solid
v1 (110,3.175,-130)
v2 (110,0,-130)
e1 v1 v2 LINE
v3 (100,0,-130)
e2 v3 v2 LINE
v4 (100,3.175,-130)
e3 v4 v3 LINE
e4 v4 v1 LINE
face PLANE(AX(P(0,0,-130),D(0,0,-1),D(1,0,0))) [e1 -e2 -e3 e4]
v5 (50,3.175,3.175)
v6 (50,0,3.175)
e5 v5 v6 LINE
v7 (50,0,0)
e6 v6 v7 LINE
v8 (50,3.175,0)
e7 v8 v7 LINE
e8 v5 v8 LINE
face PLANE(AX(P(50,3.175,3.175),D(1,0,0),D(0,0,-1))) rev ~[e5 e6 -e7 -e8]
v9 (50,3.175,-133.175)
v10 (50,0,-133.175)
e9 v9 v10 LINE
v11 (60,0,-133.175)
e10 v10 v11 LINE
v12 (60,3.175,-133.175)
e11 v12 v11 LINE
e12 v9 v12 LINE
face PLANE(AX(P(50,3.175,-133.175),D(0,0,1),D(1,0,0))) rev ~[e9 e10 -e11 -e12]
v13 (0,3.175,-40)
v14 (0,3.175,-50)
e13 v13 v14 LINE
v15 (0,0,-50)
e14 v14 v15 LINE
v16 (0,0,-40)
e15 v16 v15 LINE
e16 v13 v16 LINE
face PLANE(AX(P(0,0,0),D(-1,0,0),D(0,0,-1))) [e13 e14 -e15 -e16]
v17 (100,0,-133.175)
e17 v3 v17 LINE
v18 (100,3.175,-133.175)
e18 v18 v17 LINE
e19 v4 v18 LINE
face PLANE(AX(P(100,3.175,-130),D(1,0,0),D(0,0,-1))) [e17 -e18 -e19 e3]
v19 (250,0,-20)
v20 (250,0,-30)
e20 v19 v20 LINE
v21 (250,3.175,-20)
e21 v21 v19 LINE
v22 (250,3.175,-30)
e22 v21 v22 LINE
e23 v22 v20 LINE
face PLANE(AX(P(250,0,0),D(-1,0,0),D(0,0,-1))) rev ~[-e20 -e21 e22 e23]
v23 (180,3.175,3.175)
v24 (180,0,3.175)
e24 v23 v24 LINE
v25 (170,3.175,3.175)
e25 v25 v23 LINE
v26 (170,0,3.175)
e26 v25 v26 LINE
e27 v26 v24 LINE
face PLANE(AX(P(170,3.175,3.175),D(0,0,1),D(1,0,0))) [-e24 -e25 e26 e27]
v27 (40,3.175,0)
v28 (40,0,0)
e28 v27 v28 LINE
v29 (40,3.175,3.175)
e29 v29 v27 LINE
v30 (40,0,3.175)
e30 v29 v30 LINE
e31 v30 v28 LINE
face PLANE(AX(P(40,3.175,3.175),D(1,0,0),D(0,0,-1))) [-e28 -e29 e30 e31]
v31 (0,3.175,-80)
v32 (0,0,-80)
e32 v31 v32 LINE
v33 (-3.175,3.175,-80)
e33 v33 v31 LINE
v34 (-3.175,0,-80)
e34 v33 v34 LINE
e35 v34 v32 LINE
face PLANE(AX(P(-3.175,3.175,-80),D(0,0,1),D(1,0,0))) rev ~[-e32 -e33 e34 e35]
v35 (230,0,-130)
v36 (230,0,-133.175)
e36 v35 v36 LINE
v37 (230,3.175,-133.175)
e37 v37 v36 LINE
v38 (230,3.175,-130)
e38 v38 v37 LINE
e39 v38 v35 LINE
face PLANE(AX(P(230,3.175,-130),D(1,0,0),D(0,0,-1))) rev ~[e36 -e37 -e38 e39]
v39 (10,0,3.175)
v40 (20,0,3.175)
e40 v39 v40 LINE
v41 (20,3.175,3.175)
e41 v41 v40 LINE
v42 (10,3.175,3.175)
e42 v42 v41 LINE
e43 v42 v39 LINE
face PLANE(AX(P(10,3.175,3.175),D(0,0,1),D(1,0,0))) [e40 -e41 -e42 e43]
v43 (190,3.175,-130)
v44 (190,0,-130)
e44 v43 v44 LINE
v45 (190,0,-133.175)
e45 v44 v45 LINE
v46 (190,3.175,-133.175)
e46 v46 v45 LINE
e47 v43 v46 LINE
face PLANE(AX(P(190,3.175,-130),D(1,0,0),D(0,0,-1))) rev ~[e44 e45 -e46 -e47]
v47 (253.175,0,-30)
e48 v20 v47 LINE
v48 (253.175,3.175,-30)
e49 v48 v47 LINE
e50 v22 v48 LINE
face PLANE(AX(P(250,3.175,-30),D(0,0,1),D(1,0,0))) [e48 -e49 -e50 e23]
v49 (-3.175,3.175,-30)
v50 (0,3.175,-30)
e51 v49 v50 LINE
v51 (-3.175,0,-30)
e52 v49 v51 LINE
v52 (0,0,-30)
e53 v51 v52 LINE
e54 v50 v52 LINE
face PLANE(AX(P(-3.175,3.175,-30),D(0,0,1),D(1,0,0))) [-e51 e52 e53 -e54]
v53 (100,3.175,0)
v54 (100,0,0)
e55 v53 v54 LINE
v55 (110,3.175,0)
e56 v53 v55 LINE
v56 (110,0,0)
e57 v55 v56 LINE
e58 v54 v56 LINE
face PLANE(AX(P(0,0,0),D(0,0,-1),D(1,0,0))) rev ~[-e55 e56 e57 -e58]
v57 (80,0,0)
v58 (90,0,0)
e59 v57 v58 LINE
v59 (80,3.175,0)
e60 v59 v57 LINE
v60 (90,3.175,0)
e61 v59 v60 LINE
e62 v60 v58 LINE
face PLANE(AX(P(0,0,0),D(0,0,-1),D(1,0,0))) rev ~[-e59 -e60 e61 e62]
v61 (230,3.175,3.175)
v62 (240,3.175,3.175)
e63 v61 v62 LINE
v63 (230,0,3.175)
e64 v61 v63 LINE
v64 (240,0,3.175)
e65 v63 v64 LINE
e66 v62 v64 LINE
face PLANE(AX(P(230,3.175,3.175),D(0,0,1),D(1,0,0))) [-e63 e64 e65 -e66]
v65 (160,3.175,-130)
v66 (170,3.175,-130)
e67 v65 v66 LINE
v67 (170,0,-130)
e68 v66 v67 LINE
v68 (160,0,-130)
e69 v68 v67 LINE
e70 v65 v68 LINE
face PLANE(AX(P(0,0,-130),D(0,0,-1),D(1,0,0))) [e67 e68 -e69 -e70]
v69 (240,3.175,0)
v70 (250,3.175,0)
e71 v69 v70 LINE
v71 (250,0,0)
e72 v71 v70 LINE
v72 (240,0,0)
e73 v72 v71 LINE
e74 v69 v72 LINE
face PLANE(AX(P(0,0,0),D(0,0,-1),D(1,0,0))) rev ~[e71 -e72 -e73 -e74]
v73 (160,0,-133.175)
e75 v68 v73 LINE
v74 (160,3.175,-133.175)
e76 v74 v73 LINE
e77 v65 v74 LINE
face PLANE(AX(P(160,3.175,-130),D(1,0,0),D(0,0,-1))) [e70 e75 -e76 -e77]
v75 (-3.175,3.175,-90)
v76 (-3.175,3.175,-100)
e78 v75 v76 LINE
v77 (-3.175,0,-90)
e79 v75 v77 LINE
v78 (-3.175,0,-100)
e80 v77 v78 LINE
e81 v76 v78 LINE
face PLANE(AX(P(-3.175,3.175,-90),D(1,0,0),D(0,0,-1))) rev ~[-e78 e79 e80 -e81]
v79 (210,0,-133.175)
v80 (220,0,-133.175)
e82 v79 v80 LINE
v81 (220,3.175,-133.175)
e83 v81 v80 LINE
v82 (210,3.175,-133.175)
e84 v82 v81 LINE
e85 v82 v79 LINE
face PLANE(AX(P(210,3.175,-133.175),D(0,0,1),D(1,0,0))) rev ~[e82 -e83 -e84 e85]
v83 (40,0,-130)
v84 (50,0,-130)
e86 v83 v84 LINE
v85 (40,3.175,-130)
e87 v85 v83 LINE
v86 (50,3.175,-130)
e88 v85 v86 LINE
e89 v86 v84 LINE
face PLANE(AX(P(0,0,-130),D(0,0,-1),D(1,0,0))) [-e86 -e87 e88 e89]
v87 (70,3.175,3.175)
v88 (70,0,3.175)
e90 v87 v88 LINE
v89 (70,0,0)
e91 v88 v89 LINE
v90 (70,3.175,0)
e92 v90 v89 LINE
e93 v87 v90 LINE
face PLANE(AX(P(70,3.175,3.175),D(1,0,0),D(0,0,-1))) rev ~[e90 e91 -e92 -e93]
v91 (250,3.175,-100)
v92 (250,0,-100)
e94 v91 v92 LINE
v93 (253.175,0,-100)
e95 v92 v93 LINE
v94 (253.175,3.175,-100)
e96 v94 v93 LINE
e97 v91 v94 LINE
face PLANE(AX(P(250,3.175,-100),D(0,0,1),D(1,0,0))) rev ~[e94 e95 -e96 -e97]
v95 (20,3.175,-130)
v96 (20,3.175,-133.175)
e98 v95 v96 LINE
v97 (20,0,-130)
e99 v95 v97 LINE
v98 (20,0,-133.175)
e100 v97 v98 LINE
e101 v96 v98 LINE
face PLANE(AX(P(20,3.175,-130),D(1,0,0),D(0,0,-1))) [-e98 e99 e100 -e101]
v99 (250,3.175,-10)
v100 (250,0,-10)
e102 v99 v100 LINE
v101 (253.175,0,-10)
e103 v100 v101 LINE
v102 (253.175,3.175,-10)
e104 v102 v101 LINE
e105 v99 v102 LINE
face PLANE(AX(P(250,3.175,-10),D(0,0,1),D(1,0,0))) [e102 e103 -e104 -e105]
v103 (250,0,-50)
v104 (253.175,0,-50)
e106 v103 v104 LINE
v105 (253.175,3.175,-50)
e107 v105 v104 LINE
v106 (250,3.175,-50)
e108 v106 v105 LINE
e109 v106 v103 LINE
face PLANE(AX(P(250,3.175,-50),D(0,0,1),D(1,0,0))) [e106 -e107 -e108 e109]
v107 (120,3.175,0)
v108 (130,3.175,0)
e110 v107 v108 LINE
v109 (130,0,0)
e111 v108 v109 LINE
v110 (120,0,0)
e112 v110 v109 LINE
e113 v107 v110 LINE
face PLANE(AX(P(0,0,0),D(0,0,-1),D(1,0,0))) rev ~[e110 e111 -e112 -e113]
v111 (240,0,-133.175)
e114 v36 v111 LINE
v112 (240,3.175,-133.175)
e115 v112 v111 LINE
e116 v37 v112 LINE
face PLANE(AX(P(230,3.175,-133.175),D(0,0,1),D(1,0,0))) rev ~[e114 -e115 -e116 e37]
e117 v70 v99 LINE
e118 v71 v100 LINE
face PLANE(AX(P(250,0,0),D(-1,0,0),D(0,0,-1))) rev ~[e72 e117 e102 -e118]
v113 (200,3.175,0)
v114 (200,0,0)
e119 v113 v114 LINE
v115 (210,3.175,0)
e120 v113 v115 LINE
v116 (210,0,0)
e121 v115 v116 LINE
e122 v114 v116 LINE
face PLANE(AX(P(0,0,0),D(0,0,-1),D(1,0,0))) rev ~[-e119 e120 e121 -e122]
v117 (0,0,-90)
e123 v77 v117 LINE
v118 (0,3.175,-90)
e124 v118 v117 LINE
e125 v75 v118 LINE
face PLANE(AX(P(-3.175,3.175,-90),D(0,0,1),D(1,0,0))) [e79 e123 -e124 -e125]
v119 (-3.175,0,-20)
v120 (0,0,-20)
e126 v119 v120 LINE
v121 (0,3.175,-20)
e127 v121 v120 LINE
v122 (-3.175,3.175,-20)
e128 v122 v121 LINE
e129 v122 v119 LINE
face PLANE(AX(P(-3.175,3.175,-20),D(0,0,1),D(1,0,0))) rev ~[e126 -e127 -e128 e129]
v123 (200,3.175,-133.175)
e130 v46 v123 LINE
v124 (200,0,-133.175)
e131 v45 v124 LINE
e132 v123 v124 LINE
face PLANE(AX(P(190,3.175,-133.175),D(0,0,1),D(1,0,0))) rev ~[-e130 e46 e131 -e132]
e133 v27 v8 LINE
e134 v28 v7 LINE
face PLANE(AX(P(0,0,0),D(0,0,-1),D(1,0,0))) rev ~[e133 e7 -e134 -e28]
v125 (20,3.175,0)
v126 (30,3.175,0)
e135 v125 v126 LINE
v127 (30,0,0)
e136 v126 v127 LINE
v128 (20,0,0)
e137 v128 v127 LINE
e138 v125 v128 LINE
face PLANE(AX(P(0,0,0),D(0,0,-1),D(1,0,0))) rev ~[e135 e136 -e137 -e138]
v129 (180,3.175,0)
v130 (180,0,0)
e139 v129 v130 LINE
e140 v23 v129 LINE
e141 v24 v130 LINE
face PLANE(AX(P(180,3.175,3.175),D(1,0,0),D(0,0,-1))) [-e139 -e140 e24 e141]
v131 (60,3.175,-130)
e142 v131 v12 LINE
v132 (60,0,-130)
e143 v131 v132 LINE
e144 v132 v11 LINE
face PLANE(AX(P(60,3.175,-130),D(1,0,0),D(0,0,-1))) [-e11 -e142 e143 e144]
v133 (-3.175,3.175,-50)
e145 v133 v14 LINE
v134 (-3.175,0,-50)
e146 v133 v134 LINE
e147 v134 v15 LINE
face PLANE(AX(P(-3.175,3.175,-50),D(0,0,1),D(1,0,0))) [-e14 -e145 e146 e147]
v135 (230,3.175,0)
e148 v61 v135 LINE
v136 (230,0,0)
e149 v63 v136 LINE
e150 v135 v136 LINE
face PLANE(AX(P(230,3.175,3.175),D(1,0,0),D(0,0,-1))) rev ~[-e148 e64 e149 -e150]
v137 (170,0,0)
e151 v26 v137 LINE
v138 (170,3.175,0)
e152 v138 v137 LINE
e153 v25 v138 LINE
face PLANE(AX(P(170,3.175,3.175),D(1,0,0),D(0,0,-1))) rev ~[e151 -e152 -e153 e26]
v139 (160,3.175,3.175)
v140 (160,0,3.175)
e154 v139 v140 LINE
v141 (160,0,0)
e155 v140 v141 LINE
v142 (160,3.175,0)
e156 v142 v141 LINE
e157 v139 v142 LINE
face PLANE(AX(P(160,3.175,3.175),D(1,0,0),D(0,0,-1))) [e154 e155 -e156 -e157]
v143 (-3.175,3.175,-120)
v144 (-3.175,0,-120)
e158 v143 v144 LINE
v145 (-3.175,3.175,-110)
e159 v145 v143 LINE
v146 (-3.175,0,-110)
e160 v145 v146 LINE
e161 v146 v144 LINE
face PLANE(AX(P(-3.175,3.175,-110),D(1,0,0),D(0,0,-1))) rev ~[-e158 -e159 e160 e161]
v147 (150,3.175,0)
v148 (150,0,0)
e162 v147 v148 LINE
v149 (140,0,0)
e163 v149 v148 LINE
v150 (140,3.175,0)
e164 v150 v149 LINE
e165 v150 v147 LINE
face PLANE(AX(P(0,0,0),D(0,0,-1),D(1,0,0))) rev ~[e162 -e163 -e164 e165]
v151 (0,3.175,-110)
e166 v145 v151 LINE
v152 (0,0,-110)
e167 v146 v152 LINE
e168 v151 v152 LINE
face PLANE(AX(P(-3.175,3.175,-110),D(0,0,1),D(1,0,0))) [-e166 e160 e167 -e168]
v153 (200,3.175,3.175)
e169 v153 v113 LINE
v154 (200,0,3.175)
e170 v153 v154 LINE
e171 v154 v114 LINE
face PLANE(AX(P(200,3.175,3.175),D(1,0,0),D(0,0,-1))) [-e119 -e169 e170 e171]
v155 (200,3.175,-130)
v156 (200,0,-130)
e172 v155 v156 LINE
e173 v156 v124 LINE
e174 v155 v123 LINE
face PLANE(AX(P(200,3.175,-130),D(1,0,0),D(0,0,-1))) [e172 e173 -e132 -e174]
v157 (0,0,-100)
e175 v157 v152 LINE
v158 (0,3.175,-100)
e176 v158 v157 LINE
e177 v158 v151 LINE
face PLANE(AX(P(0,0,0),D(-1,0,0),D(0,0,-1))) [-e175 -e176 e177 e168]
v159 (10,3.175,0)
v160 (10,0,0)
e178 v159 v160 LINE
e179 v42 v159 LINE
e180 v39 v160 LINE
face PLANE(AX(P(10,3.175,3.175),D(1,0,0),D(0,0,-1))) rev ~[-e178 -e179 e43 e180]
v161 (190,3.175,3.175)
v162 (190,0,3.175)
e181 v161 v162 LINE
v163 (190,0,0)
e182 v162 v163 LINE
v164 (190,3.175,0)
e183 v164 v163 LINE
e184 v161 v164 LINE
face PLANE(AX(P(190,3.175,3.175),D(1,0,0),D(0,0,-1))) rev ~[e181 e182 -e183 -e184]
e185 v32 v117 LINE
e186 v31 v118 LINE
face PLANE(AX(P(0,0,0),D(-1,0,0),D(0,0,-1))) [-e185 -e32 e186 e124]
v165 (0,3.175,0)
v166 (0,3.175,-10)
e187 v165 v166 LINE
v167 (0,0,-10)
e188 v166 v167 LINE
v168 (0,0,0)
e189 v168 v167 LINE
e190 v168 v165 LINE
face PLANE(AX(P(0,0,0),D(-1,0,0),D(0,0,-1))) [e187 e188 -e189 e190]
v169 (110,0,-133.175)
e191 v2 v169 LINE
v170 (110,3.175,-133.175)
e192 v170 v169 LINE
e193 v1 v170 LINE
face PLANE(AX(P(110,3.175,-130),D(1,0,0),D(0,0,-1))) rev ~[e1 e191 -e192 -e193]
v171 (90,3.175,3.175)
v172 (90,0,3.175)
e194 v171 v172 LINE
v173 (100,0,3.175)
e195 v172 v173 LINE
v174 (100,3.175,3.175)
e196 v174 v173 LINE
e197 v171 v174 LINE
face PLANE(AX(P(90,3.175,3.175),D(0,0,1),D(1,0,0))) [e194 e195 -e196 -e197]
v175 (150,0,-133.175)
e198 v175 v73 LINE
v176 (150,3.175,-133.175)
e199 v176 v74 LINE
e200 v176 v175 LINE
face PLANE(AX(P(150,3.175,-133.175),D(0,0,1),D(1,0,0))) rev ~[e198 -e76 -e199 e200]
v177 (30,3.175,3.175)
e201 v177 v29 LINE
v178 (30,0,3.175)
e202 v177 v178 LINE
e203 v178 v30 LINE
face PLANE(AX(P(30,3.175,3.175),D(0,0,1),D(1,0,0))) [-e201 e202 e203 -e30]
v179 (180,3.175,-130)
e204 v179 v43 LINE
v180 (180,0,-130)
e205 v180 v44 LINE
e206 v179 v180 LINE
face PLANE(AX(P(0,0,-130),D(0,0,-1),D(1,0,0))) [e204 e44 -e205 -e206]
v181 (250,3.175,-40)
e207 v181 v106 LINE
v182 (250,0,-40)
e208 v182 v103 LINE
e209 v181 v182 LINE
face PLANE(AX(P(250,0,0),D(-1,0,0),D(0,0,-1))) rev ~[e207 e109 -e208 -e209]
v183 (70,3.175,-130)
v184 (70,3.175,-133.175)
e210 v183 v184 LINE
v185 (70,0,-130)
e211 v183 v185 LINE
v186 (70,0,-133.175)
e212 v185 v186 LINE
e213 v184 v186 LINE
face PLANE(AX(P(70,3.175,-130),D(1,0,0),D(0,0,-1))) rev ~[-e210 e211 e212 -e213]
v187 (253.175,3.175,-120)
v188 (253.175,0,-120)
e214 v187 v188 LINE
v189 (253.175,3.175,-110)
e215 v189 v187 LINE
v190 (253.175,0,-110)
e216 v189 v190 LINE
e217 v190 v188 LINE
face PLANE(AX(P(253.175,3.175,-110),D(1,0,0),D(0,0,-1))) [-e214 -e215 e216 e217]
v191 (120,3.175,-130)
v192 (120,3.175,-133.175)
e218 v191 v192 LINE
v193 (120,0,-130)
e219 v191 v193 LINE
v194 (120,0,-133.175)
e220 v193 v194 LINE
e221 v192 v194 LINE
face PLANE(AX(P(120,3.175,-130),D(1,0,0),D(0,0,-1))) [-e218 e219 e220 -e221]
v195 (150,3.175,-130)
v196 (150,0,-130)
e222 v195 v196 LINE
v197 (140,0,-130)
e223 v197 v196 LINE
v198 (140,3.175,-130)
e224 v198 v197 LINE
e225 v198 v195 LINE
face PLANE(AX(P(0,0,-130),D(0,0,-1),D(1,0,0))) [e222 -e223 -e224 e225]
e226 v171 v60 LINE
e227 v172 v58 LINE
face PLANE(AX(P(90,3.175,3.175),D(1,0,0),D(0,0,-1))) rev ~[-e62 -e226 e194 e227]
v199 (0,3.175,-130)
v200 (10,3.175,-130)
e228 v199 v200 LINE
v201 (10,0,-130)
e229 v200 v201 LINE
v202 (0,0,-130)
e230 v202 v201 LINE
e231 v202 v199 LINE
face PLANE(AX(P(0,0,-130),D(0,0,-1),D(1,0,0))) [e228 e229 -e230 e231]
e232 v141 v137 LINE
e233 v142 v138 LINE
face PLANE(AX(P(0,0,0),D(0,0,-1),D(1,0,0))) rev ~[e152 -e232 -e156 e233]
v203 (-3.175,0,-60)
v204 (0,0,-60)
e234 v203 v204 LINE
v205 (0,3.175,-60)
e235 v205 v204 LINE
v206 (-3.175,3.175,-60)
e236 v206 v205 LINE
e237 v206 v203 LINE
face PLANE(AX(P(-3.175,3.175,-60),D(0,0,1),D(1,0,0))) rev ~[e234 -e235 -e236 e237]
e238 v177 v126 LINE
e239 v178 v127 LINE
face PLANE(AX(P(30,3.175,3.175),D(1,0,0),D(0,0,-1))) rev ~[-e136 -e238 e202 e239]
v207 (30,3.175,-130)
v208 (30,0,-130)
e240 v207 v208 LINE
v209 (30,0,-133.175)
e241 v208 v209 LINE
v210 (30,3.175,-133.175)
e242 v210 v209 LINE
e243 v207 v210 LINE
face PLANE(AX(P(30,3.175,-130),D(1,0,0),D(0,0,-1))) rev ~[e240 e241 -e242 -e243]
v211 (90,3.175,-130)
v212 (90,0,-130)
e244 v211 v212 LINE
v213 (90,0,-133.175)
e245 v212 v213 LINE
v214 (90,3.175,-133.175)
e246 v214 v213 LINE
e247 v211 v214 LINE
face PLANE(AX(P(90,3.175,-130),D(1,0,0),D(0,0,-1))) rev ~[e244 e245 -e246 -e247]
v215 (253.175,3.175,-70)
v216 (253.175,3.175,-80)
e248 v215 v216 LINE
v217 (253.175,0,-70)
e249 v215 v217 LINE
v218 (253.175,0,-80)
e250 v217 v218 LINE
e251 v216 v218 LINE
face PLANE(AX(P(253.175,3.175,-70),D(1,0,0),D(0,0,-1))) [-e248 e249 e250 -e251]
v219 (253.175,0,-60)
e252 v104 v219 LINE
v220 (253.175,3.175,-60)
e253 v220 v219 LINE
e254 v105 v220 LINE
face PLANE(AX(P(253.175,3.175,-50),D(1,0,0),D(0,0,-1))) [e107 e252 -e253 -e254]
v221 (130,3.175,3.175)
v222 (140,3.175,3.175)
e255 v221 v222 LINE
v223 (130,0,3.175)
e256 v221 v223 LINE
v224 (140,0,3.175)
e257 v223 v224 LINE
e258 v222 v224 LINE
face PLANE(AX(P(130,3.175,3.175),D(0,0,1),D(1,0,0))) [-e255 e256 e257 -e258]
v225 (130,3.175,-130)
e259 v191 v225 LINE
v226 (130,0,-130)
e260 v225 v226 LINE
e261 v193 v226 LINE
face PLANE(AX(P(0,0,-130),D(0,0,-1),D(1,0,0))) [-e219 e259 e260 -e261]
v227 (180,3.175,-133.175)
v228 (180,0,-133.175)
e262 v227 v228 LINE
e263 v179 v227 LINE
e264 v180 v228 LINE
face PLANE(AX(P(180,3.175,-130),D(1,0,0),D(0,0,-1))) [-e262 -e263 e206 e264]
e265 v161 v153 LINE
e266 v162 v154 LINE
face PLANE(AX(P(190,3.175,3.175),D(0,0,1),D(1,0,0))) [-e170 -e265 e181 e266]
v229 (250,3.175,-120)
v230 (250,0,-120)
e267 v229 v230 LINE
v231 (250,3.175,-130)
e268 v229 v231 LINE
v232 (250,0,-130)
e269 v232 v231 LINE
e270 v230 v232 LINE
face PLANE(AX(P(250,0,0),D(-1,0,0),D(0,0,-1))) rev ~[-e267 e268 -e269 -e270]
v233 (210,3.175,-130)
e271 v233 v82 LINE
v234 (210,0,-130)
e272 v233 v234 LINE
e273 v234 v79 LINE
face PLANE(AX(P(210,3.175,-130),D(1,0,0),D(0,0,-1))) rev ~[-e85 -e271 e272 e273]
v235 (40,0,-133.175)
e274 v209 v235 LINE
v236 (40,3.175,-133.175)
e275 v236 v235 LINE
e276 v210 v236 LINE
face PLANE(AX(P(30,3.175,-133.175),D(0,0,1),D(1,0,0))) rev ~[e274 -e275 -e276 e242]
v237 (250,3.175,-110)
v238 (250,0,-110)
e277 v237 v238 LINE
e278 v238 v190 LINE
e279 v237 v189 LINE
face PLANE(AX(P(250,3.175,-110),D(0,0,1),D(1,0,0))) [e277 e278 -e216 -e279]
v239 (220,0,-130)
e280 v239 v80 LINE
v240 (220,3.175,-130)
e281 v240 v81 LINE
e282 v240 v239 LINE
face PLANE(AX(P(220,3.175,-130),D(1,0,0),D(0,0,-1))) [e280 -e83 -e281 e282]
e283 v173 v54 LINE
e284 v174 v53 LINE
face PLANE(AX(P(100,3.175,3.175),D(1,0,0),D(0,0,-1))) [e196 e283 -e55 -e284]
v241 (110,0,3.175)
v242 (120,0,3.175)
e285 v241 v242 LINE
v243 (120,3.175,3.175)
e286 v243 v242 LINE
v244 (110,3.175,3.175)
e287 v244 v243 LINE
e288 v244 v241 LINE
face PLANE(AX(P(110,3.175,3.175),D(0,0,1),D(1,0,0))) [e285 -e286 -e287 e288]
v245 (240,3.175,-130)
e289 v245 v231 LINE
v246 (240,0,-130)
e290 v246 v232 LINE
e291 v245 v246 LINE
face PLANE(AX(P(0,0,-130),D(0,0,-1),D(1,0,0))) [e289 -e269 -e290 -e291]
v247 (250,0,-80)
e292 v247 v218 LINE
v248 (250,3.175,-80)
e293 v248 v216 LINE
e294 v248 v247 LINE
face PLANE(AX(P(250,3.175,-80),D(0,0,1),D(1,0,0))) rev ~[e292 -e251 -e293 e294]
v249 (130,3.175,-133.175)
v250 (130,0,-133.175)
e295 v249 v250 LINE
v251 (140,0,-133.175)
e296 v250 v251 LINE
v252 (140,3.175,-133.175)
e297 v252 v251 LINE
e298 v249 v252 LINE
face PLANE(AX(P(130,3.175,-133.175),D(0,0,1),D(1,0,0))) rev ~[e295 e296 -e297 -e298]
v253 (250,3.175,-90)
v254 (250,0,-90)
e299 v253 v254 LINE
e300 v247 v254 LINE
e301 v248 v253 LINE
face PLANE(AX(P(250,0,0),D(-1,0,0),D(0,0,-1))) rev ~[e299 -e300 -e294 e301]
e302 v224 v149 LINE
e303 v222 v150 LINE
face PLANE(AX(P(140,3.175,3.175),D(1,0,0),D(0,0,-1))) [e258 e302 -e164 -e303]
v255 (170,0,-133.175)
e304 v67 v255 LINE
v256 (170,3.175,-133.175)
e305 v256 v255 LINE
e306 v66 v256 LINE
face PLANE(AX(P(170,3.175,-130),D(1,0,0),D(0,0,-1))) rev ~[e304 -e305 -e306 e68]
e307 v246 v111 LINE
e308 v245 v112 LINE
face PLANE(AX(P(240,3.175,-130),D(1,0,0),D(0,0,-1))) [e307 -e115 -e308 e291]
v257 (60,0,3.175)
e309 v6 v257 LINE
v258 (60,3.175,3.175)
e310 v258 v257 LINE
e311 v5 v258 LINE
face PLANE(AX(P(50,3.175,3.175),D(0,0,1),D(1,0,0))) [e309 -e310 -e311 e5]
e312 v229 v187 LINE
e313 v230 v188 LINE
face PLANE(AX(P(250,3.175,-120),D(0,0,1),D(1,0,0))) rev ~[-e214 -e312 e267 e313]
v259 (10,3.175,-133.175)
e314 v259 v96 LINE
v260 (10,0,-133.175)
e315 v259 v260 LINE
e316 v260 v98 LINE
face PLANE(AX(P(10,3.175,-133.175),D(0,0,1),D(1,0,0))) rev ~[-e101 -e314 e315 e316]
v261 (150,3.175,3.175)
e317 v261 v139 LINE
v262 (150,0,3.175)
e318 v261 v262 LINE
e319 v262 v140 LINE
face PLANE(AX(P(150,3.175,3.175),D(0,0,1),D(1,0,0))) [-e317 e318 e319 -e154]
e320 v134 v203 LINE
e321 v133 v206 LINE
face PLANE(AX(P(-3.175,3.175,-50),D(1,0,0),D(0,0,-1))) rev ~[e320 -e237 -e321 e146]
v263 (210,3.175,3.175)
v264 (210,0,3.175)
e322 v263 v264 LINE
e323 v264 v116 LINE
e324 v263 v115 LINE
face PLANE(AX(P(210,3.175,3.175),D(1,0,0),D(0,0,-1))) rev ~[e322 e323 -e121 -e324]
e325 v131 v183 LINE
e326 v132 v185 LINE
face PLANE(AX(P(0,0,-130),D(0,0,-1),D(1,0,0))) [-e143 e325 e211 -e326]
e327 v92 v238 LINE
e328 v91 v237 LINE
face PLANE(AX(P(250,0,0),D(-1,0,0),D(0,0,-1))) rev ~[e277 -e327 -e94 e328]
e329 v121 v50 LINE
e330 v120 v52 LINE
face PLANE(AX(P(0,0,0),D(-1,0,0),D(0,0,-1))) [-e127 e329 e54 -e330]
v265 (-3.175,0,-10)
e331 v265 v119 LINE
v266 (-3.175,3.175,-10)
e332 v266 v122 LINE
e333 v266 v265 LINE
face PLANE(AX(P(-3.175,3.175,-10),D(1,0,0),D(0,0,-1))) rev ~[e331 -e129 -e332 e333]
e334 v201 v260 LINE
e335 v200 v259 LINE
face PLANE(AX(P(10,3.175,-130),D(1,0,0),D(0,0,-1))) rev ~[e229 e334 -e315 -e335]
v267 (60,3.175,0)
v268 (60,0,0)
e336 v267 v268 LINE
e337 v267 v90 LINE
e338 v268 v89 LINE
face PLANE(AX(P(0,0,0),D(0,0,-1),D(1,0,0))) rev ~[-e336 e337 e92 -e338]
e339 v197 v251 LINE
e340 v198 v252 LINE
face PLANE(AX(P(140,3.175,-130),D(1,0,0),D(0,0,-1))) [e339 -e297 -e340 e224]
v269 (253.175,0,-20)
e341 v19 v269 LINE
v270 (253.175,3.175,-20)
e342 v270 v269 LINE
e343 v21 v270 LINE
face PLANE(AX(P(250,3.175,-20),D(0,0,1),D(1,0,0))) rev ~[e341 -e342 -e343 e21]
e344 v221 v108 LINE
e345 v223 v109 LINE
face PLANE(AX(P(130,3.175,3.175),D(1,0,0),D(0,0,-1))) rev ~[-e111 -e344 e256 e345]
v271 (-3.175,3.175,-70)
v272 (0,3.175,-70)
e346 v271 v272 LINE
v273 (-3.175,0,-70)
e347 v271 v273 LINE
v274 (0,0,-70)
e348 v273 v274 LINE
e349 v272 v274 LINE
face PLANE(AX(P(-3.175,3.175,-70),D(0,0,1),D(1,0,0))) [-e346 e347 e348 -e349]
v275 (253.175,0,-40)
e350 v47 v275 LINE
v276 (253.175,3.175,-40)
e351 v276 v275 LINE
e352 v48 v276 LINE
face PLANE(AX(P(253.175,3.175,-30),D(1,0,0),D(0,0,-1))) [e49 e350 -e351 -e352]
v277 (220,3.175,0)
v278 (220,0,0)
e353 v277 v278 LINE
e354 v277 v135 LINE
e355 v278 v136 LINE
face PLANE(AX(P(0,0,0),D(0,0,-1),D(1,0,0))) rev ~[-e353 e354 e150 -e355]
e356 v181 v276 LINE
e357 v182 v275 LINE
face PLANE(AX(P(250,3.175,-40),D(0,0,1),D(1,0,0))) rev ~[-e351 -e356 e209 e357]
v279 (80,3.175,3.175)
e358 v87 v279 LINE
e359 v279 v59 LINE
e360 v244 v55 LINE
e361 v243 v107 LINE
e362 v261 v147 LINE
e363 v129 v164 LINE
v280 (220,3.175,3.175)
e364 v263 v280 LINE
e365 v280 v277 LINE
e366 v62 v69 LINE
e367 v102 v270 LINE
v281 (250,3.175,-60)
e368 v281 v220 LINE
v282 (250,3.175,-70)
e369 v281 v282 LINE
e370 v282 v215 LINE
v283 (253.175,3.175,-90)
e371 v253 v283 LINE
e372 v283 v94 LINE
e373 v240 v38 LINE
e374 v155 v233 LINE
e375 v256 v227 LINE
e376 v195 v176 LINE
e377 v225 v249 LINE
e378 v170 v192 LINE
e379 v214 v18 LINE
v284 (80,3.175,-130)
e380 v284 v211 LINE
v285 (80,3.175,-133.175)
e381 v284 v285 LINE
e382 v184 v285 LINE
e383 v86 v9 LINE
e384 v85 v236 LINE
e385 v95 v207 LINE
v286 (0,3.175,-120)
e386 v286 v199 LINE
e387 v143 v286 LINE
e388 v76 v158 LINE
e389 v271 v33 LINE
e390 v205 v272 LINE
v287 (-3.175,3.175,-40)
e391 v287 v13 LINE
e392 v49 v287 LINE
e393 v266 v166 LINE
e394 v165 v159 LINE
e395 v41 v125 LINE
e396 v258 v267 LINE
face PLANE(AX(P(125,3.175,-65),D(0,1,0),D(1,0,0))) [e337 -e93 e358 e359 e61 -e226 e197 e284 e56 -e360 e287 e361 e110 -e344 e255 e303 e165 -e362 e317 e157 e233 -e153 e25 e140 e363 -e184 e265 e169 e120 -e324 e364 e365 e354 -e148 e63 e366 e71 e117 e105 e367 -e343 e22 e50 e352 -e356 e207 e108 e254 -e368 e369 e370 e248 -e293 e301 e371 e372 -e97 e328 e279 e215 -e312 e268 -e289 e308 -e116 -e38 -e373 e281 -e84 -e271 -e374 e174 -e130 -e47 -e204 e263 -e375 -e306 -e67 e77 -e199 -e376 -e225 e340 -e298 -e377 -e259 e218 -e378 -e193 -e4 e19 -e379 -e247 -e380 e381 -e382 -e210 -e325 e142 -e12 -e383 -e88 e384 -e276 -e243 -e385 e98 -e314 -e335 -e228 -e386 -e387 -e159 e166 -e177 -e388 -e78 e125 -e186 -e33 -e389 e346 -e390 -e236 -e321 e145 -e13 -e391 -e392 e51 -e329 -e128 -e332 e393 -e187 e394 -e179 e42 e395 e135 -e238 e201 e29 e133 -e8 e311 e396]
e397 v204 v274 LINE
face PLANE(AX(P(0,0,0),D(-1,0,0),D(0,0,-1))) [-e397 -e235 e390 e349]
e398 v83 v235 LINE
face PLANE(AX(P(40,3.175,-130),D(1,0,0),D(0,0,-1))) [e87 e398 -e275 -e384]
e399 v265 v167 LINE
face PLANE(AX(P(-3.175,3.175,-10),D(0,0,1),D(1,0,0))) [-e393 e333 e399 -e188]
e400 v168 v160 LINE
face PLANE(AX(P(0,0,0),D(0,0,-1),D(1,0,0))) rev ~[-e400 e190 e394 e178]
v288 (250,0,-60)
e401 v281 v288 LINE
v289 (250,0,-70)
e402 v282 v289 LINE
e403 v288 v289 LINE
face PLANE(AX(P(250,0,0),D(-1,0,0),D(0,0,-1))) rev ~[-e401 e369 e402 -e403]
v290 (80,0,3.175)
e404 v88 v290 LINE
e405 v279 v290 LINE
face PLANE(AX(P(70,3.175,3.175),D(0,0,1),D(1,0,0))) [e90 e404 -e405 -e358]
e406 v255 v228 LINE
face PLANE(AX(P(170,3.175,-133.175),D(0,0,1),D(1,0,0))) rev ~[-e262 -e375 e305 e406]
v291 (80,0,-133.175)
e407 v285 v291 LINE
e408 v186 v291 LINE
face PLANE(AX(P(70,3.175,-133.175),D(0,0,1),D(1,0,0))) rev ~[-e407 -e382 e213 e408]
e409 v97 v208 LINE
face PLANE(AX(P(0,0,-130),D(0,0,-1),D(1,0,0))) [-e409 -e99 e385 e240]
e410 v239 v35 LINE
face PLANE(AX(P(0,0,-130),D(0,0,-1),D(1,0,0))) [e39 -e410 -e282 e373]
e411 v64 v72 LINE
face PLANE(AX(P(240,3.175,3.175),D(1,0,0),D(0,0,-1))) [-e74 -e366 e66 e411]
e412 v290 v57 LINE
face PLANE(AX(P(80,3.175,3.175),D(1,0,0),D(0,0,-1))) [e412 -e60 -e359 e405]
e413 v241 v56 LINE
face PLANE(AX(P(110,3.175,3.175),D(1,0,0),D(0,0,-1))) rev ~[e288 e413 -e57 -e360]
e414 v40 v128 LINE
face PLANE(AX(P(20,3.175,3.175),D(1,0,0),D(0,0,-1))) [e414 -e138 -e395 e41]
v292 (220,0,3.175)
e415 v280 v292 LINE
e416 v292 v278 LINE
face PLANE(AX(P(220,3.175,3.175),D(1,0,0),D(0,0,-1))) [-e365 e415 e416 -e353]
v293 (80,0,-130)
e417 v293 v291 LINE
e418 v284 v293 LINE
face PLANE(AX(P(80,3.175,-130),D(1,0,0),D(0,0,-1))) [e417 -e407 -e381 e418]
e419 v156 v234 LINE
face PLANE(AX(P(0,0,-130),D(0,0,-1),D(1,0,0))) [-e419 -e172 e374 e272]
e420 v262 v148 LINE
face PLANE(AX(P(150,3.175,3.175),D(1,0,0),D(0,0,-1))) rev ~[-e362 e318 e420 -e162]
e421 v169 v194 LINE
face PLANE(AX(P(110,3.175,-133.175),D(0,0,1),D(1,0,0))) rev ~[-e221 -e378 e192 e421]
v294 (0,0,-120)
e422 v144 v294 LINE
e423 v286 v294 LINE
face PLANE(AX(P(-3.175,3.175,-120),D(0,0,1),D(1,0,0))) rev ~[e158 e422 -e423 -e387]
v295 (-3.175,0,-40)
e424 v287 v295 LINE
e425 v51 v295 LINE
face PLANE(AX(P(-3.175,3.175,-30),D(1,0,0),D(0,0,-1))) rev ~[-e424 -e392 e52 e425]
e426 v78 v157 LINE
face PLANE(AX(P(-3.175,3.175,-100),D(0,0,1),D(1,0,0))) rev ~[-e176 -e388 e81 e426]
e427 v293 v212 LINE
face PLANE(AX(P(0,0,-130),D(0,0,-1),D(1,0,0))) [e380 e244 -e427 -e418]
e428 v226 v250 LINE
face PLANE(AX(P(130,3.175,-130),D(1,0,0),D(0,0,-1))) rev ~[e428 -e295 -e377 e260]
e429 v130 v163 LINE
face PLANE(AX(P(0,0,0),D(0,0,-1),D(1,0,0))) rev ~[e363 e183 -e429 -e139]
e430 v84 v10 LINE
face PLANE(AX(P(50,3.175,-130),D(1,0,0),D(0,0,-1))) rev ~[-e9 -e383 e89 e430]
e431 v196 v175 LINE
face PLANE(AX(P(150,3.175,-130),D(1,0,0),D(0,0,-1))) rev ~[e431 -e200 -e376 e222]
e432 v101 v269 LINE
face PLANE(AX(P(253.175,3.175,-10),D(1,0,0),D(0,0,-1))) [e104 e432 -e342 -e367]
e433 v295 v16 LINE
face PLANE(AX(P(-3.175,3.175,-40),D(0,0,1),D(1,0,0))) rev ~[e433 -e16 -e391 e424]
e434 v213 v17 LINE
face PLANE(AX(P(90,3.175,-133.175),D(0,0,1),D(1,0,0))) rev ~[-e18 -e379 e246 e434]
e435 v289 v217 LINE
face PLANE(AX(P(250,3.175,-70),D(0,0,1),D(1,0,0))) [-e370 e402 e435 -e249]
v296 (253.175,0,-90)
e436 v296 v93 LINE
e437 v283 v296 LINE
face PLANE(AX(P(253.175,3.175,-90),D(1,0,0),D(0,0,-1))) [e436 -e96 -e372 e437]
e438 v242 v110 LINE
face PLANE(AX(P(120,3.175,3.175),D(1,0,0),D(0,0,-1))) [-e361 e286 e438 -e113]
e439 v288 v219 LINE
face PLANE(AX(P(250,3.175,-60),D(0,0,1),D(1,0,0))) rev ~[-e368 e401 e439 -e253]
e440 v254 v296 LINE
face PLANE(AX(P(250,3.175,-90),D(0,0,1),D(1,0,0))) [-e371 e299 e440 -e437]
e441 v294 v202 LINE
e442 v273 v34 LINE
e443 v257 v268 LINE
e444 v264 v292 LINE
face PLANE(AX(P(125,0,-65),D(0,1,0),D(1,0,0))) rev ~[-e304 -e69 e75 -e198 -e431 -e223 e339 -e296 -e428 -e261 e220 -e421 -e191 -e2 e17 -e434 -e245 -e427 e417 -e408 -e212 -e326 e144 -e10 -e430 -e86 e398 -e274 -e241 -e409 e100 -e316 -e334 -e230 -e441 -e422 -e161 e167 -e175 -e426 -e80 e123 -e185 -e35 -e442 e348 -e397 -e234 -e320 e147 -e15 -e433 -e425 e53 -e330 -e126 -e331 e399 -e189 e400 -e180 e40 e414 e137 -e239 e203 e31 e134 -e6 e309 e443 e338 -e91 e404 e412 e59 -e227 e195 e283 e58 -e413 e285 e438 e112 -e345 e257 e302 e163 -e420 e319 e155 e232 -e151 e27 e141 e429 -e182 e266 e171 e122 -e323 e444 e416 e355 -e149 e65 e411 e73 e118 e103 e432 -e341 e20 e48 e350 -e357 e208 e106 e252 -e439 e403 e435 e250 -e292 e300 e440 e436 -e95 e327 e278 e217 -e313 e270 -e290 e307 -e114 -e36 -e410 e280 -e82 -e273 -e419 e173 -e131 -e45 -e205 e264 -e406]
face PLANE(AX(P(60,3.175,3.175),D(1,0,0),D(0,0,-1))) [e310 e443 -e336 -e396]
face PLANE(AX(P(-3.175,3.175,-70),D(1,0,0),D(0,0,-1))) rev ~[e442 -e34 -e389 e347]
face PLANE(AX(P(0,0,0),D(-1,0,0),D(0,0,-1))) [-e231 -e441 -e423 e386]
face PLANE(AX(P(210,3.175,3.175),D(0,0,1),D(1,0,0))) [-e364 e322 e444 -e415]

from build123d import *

# Parameters (mm, degrees)
ESQUISSE1_W                = 250
ESQUISSE1_H                = 130
BOSS_EXTRU_1_DEPTH         = 3.175
ESQUISSE2_W                = 10
ESQUISSE2_H                = 3.175
BOSS_EXTRU_2_DEPTH         = 3.175
R_P_TITION_LIN_AIRE1_COUNT = 12
R_P_TITION_LIN_AIRE1_PITCH = 20
ESQUISSE3_W                = 3.175
ESQUISSE3_H                = 10
BOSS_EXTRU_3_DEPTH         = 3.175
R_P_TITION_LIN_AIRE2_COUNT = 6
R_P_TITION_LIN_AIRE2_PITCH = 20


with BuildPart() as part:
    # Esquisse1 → Boss.-Extru.1 (new body)
    with BuildSketch(Plane(origin=(0, 0, 0), x_dir=(1, 0, 0), z_dir=(0, 1, 0))):
        with Locations((125, 65)):
            Rectangle(ESQUISSE1_W, ESQUISSE1_H)
    extrude(amount=BOSS_EXTRU_1_DEPTH)

    # Esquisse2 → Boss.-Extru.2 (add)
    with BuildSketch(Plane(origin=(0, 3.175, 0), x_dir=(1, 0, 0), z_dir=(0, 1, 0))):
        with Locations((15, 131.5875)):
            Rectangle(ESQUISSE2_W, ESQUISSE2_H)
        with Locations((15, -1.5875)):
            Rectangle(ESQUISSE2_W, ESQUISSE2_H)
    boss_extru_2 = extrude(amount=-BOSS_EXTRU_2_DEPTH)

    # Répétition linéaire1: Boss.-Extru.2 ×12
    with Locations(*[(i * R_P_TITION_LIN_AIRE1_PITCH, 0, 0) for i in range(1, R_P_TITION_LIN_AIRE1_COUNT)]):
        add(boss_extru_2)

    # Esquisse3 → Boss.-Extru.3 (add)
    with BuildSketch(Plane(origin=(0, 3.175, 0), x_dir=(1, 0, 0), z_dir=(0, 1, 0))):
        with Locations((251.5875, 115)):
            Rectangle(ESQUISSE3_W, ESQUISSE3_H)
        with Locations((-1.5875, 115)):
            Rectangle(ESQUISSE3_W, ESQUISSE3_H)
    boss_extru_3 = extrude(amount=-BOSS_EXTRU_3_DEPTH)

    # Répétition linéaire2: Boss.-Extru.3 ×6
    with Locations(*[(0, 0, i * R_P_TITION_LIN_AIRE2_PITCH) for i in range(1, R_P_TITION_LIN_AIRE2_COUNT)]):
        add(boss_extru_3)


solid = part.part
